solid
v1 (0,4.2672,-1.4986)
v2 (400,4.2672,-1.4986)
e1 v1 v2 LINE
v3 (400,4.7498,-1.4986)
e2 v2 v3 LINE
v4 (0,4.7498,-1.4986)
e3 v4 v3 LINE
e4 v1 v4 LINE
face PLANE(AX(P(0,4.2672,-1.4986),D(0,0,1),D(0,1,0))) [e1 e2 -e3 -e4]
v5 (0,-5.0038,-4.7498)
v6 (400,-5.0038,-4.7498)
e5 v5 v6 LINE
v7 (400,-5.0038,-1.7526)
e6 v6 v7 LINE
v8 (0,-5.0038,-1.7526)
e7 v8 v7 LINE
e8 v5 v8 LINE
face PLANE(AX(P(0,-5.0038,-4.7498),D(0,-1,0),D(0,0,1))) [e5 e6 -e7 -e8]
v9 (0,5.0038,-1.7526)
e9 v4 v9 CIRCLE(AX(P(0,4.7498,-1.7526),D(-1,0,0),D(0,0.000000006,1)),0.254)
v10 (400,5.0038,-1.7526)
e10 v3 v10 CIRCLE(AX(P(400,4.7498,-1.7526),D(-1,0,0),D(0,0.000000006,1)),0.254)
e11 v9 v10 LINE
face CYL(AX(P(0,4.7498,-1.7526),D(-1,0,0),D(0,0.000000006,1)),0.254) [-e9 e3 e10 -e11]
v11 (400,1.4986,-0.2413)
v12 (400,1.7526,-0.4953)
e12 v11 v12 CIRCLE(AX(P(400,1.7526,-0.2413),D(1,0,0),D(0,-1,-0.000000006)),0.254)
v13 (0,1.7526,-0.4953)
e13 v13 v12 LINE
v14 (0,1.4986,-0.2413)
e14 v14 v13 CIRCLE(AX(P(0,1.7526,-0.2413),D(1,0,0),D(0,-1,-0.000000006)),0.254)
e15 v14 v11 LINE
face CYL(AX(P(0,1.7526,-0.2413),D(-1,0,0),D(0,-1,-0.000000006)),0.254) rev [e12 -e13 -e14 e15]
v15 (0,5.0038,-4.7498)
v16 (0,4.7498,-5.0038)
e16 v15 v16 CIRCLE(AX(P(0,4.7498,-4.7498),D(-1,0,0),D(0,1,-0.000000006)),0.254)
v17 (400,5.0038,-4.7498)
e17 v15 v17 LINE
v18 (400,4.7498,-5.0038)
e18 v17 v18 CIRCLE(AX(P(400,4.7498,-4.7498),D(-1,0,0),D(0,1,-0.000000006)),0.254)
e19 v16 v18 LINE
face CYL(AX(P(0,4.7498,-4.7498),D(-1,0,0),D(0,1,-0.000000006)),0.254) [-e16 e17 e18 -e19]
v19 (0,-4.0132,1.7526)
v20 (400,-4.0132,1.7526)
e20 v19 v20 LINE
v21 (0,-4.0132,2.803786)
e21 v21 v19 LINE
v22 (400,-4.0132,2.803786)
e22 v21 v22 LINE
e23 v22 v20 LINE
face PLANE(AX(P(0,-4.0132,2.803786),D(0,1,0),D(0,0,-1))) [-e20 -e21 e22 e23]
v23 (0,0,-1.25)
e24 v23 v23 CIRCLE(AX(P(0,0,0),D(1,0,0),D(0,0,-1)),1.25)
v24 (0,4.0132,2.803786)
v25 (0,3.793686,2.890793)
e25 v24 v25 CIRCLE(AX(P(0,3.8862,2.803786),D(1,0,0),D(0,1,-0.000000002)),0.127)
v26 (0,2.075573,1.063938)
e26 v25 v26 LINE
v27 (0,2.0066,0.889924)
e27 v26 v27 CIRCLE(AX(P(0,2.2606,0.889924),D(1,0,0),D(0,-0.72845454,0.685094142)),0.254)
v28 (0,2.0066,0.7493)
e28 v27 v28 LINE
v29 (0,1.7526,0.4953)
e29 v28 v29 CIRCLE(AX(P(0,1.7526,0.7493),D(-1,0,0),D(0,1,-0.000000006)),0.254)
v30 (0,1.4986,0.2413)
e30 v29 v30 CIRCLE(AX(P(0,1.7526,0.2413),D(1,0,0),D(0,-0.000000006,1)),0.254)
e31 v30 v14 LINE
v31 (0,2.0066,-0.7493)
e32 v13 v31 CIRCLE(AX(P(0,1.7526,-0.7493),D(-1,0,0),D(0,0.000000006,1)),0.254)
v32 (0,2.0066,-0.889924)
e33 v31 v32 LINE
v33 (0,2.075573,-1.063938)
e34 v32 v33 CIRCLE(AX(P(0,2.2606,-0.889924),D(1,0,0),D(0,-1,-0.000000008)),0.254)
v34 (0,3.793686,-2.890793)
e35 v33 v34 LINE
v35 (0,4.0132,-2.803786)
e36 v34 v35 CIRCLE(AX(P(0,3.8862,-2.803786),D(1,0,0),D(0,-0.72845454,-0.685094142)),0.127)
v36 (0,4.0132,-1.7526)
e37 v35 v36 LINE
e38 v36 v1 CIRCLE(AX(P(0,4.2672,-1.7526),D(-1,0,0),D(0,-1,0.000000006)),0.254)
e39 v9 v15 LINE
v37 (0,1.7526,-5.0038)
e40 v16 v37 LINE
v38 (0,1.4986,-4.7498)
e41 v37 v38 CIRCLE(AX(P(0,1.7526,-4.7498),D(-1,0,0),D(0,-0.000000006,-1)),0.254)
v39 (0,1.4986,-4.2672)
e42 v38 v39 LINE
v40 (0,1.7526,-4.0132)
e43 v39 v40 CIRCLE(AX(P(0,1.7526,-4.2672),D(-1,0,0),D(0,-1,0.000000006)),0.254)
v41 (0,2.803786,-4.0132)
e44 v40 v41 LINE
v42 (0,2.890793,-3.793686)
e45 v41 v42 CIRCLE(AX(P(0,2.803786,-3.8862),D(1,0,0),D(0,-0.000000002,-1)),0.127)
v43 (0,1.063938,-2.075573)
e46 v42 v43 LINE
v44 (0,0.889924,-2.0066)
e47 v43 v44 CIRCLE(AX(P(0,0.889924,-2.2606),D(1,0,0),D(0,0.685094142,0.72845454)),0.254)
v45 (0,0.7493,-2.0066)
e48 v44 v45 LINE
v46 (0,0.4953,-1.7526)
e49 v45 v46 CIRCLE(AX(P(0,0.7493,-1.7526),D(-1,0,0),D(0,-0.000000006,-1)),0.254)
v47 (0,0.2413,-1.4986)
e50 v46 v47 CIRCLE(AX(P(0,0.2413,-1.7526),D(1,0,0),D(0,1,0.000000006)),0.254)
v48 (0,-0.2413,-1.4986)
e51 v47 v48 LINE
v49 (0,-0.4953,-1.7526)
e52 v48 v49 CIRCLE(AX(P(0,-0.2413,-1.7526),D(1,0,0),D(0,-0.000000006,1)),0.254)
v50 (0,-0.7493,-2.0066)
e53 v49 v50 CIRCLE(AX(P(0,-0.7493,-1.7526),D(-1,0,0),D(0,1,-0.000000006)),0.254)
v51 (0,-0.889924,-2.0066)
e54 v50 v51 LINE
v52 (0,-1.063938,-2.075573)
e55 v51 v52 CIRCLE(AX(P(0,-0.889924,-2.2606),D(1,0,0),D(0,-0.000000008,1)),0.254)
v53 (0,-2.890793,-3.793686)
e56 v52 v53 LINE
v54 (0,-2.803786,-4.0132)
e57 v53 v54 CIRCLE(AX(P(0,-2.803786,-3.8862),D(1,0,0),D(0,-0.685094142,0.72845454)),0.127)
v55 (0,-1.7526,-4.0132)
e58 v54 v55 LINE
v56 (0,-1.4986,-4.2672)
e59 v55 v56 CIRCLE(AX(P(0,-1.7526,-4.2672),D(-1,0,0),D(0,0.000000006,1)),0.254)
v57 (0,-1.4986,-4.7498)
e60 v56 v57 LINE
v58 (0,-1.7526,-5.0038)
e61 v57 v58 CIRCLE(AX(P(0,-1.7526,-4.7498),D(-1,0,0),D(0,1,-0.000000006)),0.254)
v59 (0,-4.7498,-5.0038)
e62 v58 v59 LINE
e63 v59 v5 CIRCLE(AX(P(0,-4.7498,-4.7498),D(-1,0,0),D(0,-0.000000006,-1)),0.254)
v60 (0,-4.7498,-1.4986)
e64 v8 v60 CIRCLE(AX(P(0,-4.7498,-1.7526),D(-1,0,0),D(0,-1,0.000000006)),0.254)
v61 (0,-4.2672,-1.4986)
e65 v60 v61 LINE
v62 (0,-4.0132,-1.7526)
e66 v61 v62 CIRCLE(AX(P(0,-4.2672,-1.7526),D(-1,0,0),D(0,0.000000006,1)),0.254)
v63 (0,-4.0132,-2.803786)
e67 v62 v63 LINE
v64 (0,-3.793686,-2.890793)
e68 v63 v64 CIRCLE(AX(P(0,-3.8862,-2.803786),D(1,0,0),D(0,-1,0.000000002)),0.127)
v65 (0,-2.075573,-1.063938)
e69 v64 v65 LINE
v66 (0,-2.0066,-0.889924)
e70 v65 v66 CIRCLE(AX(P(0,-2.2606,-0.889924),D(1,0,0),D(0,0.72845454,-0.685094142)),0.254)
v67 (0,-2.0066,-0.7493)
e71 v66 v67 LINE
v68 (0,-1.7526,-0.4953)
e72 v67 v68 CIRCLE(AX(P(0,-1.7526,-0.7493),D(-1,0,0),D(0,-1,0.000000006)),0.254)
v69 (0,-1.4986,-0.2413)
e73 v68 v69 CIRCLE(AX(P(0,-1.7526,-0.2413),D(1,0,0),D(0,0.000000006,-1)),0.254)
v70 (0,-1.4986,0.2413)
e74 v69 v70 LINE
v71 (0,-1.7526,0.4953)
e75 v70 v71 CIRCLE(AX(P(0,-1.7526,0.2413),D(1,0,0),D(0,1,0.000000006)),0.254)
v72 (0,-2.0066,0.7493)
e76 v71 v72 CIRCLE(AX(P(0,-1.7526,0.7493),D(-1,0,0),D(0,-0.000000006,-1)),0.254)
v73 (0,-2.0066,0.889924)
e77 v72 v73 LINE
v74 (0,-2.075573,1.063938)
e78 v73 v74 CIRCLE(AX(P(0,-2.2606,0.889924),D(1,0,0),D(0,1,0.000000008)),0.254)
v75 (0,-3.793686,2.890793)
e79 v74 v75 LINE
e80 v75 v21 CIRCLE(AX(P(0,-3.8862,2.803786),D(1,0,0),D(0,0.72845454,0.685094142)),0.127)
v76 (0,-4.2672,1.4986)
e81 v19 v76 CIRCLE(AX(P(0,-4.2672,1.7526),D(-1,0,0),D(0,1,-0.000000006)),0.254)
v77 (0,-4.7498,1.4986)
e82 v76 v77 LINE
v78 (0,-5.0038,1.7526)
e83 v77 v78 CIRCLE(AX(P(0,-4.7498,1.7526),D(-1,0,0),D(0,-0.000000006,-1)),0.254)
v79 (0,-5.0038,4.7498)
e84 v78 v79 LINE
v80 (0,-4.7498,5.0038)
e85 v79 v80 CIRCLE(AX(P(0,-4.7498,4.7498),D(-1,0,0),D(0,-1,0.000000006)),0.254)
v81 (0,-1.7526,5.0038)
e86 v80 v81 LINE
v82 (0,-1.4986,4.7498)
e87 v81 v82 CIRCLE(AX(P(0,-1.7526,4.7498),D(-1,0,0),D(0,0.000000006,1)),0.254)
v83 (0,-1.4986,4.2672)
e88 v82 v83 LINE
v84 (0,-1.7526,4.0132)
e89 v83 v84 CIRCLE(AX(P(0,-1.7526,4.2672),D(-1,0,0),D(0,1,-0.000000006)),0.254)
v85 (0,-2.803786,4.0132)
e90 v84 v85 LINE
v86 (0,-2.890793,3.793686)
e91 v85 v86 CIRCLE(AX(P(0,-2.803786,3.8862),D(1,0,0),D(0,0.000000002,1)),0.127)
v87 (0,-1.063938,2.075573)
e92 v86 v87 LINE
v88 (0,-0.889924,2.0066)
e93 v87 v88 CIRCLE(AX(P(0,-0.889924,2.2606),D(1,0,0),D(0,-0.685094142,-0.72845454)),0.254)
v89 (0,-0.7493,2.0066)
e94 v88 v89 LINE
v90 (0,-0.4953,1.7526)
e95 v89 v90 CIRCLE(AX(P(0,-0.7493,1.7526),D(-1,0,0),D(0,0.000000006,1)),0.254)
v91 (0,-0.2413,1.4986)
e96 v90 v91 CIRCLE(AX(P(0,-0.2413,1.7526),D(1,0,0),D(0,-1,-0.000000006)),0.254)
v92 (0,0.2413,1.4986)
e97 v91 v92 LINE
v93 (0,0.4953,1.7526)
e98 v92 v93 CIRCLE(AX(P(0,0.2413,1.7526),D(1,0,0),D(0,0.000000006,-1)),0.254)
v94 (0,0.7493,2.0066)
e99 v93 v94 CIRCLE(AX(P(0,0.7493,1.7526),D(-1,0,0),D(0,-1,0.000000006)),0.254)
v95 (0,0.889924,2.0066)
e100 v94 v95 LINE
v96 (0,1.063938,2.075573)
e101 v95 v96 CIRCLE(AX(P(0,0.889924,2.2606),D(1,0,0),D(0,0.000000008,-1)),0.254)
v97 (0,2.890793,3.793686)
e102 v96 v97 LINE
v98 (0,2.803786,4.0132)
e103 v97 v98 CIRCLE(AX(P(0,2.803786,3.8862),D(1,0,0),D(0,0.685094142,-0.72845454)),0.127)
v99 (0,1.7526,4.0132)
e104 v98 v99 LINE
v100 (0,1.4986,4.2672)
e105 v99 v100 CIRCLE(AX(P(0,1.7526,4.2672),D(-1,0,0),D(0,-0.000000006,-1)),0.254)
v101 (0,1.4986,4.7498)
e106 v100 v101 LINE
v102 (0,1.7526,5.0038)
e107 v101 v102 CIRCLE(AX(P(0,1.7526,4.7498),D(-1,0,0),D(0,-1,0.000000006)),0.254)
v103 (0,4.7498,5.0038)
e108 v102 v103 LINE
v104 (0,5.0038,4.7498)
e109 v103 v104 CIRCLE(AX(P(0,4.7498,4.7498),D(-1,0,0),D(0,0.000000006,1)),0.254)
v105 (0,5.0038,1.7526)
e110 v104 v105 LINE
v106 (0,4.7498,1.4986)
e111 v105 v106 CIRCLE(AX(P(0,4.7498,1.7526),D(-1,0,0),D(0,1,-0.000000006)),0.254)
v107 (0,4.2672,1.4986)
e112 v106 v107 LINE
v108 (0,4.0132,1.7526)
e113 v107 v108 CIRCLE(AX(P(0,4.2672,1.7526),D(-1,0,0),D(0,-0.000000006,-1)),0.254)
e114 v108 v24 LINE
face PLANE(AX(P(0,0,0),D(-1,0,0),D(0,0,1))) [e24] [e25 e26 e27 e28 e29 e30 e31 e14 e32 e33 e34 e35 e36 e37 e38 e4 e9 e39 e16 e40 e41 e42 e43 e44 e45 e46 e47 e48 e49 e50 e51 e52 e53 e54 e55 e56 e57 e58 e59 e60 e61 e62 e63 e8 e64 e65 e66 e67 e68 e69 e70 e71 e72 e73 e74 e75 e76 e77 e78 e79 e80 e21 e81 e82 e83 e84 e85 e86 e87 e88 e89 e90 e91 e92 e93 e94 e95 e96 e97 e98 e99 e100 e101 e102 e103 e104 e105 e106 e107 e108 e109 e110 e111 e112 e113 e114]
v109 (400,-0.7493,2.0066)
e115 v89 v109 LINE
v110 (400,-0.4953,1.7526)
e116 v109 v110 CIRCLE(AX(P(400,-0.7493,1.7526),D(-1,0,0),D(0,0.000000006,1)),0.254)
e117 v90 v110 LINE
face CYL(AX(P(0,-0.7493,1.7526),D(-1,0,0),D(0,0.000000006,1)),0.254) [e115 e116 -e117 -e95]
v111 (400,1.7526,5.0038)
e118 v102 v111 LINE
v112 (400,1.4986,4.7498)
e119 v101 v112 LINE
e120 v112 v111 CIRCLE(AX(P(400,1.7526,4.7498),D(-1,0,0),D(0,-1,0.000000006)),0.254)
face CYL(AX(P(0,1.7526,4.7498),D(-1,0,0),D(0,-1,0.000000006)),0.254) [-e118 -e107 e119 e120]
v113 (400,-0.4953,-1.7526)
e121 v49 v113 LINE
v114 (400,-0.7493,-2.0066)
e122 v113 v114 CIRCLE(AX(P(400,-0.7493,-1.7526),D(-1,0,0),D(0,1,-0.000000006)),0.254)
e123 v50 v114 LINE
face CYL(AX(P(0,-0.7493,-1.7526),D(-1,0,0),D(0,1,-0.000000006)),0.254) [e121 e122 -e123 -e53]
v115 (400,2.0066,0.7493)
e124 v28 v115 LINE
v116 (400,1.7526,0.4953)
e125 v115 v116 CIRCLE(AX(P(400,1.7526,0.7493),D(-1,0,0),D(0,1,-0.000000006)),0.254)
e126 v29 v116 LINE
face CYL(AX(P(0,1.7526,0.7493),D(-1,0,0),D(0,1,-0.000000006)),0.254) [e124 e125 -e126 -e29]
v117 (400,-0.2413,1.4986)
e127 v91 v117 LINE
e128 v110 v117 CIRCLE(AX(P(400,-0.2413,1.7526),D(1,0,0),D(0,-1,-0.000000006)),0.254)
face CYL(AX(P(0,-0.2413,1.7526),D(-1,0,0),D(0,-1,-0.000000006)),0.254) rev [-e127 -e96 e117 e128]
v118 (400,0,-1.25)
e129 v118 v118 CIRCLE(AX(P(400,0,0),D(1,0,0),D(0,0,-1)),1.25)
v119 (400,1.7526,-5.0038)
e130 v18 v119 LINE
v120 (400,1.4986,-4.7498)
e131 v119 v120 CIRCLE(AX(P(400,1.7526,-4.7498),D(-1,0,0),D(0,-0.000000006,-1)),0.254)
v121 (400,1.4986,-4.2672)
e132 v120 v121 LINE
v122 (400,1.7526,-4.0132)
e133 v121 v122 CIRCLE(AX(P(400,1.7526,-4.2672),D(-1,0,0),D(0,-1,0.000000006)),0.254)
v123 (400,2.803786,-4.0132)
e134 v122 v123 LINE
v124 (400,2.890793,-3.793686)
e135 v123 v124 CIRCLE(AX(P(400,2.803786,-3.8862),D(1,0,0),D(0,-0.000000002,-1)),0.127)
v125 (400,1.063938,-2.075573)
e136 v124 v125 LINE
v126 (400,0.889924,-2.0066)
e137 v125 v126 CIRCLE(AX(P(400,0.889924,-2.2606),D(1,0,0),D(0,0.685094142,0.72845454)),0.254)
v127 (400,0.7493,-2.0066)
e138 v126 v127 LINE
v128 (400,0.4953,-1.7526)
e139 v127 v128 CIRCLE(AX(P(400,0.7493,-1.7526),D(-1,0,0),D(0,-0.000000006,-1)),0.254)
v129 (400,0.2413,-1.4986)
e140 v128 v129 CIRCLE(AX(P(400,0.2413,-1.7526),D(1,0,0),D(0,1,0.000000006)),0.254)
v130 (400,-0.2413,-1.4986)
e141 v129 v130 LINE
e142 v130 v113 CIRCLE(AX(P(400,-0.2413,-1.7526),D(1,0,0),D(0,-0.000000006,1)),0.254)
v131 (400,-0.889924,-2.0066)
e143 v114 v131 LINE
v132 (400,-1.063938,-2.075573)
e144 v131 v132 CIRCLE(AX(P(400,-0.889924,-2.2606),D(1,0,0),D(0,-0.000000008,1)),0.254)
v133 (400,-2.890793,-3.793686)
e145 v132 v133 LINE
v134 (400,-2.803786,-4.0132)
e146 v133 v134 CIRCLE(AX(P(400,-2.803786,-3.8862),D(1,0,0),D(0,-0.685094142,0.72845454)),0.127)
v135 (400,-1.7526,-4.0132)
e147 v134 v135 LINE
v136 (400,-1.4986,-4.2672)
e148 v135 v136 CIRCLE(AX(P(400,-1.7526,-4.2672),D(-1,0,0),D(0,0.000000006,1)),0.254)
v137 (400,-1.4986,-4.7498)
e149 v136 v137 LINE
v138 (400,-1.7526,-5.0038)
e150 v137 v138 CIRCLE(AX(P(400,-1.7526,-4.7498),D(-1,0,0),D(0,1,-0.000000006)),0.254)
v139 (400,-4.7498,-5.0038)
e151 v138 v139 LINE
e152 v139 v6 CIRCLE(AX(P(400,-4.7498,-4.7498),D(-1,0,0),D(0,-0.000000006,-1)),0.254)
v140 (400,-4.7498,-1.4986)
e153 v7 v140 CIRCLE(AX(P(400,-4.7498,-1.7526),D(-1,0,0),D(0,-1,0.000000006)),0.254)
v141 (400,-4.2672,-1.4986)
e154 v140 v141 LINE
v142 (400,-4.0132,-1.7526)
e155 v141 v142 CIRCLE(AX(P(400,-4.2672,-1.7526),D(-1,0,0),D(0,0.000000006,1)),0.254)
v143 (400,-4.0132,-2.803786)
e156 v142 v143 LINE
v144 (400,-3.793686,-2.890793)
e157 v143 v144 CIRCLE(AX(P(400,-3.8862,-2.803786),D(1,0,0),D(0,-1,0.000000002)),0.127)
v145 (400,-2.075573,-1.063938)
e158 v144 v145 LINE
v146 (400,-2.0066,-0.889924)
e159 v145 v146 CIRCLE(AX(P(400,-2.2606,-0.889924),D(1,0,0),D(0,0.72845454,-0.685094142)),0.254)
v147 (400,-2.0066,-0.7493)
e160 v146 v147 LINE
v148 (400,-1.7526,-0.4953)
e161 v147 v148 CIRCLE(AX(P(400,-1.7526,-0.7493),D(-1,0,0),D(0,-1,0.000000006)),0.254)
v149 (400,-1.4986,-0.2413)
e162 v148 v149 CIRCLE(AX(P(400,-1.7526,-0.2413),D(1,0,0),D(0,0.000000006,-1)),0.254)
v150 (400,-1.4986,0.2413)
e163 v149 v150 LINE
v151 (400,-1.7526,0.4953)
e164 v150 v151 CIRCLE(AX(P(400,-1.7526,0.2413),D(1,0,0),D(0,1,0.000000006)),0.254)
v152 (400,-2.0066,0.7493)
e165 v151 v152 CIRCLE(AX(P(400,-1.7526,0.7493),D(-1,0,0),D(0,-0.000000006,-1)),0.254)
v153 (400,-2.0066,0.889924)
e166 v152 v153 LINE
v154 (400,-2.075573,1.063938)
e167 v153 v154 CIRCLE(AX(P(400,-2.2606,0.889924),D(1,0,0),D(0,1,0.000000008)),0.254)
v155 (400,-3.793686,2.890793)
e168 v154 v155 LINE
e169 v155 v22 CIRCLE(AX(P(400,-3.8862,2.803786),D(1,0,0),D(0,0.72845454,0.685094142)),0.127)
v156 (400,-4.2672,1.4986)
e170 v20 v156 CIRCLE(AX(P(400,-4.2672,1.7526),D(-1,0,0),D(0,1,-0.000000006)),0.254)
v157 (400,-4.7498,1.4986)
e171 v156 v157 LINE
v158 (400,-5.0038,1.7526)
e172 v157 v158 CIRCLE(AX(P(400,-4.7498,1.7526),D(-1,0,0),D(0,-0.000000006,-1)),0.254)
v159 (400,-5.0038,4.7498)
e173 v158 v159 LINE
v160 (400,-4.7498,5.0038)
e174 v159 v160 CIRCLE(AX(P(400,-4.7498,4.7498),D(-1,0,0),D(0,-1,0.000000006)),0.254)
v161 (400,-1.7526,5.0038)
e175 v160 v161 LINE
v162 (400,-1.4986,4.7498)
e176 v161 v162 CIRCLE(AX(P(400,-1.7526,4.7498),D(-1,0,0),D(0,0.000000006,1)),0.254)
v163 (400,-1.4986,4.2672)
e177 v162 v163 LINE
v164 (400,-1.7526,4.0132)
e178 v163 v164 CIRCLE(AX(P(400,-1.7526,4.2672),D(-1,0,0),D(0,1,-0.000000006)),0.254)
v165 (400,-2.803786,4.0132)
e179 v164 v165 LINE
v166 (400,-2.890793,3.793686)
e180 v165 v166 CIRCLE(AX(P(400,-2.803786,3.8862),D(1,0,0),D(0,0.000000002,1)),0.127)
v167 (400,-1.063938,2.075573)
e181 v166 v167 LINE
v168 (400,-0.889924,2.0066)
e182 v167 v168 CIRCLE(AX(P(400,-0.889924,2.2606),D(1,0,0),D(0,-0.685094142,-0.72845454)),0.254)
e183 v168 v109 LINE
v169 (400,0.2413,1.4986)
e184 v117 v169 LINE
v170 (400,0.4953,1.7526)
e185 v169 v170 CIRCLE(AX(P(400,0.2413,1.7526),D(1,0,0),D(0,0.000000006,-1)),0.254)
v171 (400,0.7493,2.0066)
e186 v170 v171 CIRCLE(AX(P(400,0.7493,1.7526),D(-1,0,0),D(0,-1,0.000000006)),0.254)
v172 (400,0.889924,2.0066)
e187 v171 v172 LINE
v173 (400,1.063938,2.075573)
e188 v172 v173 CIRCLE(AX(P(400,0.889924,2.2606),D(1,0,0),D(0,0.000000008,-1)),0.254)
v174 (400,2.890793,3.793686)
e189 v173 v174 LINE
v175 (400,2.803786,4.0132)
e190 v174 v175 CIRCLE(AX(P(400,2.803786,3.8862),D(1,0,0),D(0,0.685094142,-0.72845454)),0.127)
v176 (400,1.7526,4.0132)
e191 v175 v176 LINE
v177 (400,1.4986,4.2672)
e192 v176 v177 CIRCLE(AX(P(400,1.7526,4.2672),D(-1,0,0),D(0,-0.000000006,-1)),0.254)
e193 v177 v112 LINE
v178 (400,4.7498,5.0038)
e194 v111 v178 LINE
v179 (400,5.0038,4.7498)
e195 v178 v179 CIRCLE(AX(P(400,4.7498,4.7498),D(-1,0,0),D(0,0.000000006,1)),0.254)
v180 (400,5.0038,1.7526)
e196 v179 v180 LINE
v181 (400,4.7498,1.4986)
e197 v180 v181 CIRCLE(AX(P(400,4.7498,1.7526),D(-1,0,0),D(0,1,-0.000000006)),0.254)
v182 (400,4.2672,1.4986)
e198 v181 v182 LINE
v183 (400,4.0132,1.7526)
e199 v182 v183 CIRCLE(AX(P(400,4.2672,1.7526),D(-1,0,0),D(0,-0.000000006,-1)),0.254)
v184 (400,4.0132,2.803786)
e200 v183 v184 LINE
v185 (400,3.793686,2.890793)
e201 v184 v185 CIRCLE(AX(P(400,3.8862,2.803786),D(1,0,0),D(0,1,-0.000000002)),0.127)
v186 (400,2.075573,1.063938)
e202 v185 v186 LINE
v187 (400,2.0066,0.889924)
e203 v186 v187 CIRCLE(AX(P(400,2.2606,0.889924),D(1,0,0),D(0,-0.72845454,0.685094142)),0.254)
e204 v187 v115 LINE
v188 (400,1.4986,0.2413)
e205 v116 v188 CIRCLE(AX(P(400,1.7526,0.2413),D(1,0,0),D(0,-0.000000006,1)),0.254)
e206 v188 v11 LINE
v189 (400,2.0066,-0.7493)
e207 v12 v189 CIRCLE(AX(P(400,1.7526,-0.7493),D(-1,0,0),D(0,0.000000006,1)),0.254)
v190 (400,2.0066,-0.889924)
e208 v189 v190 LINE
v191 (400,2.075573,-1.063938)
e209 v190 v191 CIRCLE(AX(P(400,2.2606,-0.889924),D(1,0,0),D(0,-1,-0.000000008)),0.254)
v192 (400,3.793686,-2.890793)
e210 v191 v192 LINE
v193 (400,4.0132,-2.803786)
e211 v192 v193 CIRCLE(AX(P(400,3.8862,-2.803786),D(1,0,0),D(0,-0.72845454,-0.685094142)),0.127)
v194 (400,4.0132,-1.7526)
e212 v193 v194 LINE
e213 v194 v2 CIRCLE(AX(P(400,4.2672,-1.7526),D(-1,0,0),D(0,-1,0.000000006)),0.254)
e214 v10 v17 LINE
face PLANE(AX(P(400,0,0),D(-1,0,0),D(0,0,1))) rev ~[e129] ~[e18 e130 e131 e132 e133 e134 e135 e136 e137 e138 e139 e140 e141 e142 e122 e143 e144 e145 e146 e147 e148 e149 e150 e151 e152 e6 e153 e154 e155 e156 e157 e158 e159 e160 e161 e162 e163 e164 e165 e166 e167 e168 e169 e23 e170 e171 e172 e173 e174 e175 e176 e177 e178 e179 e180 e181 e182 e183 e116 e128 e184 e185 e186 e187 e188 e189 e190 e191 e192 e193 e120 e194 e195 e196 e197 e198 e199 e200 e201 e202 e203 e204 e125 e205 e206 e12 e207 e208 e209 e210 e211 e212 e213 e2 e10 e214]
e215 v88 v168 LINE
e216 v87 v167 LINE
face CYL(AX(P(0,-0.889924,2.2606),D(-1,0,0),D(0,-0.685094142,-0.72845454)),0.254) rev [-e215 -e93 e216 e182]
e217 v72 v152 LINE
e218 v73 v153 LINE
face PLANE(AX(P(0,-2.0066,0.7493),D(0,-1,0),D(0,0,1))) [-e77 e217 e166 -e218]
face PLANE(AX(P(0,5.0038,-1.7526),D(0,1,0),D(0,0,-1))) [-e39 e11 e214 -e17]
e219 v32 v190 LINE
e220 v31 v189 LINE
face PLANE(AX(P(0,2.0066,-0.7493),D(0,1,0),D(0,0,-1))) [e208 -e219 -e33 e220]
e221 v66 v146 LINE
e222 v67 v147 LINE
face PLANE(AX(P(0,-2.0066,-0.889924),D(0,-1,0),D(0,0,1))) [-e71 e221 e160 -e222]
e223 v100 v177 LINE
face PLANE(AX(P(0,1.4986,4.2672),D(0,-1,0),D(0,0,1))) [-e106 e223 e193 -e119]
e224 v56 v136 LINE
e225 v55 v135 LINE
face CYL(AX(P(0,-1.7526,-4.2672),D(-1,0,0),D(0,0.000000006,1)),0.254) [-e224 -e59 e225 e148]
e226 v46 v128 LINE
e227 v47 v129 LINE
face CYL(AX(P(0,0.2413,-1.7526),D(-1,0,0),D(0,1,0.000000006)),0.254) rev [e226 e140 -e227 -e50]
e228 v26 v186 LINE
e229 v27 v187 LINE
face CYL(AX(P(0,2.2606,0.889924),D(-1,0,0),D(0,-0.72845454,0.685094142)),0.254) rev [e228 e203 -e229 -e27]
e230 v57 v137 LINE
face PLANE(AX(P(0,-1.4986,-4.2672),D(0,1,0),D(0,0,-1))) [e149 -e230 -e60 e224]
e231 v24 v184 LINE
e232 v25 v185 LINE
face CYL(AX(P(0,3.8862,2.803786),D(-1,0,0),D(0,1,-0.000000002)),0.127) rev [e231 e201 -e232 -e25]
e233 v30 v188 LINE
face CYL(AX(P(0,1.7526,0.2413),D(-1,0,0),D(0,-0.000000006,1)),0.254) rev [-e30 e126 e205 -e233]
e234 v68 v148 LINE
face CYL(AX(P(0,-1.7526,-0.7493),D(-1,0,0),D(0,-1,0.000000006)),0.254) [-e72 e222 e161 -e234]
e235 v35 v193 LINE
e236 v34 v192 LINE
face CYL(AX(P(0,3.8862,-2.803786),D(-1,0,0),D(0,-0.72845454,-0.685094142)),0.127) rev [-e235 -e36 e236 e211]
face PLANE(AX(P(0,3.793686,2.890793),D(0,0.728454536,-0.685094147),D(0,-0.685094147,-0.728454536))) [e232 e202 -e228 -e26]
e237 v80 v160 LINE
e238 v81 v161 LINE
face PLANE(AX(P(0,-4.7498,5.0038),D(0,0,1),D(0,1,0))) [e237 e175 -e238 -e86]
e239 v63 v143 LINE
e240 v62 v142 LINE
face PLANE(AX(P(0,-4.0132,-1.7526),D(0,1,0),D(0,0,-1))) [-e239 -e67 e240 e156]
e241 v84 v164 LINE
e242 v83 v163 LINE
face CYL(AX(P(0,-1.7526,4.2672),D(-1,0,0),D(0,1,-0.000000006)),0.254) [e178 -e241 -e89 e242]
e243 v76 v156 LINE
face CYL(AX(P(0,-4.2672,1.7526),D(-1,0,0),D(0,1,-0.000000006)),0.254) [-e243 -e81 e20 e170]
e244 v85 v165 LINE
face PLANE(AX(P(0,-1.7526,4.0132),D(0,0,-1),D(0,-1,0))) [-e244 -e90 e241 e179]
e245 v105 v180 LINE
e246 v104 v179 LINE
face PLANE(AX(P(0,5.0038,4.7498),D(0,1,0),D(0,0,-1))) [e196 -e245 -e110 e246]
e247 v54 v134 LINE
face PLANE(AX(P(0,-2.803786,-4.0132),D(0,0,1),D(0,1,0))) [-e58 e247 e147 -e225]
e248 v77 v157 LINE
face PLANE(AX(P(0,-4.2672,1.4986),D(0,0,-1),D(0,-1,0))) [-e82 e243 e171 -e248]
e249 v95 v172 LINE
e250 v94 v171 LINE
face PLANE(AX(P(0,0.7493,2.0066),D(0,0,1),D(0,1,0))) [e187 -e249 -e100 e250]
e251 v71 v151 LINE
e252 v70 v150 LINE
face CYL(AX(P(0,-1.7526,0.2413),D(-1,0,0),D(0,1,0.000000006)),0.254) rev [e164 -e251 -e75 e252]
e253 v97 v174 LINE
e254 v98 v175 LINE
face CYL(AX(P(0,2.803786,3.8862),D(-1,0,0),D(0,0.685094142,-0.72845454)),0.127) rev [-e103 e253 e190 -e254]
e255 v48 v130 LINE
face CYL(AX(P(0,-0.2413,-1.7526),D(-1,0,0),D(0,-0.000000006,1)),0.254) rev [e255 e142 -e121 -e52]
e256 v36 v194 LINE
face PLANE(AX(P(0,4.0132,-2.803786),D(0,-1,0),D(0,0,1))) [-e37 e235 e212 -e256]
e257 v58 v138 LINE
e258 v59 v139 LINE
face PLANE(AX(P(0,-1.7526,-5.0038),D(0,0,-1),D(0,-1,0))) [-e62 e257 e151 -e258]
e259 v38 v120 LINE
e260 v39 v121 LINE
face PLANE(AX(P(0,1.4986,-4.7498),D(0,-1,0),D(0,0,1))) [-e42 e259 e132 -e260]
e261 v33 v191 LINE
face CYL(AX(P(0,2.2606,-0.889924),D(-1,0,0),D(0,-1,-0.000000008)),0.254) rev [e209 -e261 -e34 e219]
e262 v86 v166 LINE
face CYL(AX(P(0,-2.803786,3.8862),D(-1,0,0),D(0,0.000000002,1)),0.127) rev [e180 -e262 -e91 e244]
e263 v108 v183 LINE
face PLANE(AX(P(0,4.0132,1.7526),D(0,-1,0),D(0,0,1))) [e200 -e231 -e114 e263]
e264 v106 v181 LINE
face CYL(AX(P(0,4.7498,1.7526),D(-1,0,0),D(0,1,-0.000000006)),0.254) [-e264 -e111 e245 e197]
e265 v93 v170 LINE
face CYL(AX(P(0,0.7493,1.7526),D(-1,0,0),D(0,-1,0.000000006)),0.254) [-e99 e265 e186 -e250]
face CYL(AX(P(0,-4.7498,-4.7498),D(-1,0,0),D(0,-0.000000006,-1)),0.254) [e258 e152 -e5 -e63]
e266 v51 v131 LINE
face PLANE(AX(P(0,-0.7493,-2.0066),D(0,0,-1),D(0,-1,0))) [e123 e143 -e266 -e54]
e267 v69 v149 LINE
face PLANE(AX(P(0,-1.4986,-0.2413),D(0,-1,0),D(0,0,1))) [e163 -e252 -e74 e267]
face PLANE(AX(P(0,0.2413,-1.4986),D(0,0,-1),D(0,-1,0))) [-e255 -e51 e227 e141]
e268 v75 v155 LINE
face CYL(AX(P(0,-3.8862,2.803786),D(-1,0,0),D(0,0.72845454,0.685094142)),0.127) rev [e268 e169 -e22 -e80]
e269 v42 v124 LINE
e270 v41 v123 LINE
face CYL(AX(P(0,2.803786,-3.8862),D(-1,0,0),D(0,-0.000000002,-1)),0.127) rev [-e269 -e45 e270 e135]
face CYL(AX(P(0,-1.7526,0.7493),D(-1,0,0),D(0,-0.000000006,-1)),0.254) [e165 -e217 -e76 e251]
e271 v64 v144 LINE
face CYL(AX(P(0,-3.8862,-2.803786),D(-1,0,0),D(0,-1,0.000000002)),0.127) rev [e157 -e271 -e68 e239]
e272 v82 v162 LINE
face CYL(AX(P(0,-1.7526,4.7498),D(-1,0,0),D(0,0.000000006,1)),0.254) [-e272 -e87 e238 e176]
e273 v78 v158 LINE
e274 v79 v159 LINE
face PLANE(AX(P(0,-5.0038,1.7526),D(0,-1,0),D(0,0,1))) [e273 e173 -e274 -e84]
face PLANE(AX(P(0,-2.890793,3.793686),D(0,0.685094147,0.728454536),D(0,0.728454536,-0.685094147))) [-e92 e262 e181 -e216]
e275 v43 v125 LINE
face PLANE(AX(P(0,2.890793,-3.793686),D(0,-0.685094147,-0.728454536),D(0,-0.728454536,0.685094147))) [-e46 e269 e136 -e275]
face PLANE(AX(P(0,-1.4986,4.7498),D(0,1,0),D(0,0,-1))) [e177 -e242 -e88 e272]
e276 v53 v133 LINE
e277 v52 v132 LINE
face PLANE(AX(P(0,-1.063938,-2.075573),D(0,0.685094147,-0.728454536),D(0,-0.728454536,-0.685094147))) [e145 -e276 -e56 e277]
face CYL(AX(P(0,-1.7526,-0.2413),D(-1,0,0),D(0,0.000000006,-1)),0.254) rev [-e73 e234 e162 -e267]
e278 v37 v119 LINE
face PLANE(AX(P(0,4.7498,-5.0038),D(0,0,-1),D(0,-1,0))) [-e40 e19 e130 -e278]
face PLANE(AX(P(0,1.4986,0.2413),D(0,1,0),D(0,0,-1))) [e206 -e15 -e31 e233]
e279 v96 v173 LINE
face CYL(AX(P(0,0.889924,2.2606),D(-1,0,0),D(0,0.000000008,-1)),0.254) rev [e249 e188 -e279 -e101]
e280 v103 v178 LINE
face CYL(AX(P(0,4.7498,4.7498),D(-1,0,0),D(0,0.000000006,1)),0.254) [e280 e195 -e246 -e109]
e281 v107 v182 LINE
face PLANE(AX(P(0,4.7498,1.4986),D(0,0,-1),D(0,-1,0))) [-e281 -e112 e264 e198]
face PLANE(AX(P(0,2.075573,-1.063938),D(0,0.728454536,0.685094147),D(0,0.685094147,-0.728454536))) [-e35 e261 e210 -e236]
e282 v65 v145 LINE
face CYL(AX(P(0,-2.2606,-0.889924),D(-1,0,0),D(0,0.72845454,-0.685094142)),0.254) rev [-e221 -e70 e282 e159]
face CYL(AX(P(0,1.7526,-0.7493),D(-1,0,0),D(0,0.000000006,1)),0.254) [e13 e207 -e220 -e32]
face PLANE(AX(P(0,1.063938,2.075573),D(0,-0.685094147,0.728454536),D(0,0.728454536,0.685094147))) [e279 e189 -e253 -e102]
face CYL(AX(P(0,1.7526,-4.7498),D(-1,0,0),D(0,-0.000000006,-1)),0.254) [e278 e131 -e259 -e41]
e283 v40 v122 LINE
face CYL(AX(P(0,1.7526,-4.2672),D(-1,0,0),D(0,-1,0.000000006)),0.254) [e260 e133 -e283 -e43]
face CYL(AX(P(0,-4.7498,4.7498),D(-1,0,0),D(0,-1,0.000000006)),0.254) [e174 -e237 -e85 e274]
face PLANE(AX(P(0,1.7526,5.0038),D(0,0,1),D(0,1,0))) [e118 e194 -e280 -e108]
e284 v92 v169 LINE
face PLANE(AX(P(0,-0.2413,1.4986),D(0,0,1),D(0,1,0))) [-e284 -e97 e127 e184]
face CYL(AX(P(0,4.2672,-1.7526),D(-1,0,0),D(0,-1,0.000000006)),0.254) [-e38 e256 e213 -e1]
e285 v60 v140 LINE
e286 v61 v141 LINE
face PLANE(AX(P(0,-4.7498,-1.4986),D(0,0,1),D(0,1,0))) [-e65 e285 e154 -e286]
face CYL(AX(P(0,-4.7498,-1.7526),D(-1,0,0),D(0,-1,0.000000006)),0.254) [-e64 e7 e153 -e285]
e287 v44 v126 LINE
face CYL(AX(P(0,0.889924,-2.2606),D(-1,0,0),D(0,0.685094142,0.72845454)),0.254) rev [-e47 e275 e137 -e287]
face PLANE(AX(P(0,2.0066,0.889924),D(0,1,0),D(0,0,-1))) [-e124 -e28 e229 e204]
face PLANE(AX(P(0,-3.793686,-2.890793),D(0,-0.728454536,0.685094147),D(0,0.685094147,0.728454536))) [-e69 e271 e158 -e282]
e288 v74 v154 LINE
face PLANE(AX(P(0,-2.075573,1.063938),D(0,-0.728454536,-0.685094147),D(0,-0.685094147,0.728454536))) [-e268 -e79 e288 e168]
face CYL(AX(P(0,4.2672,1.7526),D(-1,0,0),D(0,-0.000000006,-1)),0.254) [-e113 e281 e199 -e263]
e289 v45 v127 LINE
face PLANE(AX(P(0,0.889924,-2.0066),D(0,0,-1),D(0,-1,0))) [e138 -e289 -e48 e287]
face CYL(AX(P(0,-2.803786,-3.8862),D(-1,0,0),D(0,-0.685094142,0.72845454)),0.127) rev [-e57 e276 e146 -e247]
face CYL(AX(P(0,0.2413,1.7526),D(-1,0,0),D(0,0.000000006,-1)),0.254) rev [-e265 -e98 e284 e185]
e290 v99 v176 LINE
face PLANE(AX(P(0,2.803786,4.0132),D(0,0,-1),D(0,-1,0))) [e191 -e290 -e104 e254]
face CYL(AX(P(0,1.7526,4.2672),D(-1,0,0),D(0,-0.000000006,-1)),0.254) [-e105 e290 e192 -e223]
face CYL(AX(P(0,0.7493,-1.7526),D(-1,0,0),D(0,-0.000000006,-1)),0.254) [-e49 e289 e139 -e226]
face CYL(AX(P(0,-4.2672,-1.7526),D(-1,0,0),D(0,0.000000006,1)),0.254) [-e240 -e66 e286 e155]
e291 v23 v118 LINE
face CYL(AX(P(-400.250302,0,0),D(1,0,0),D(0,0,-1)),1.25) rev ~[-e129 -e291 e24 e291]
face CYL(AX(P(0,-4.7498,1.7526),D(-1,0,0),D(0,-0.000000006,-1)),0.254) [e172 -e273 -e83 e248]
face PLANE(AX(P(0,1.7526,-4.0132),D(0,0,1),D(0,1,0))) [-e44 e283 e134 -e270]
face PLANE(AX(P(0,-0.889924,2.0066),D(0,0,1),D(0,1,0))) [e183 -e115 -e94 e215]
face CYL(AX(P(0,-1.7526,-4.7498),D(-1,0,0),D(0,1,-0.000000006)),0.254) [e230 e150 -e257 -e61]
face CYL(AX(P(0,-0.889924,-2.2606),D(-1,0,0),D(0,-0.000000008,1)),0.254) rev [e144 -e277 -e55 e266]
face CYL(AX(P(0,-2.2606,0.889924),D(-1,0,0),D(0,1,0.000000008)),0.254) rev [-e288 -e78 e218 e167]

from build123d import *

# Parameters (mm, degrees)
ESTRUSIONE_ESTRUSIONE1_DEPTH = 400
FORO_FILETTATO_M3X0_5_1_D    = 2.5


with BuildPart() as part:
    # Sketch1 → Estrusione-Estrusione1 (new body)
    with BuildSketch(Plane(origin=(0, 0, 0), x_dir=(0, 0, -1), z_dir=(1, 0, 0))):
        with BuildLine():
            Line((-0.2413, 1.4986), (0.2413, 1.4986))
            ThreePointArc((0.2413, 1.4986), (0.420905122, 1.572994878), (0.4953, 1.7526))
            ThreePointArc((0.4953, 1.7526), (0.569694878, 1.932205122), (0.7493, 2.0066))
            Line((0.7493, 2.0066), (0.889923986, 2.0066))
            ThreePointArc((0.889923986, 2.0066), (0.983516259, 2.024471886), (1.063937899, 2.075572548))
            Line((1.063937899, 2.075572548), (2.890793, 3.793686274))
            ThreePointArc((2.890793, 3.793686274), (2.921850101, 3.932996137), (2.803786044, 4.0132))
            Line((2.803786044, 4.0132), (1.7526, 4.0132))
            ThreePointArc((1.7526, 4.0132), (1.572994878, 4.087594878), (1.4986, 4.2672))
            Line((1.4986, 4.2672), (1.4986, 4.7498))
            ThreePointArc((1.4986, 4.7498), (1.572994878, 4.929405122), (1.7526, 5.0038))
            Line((1.7526, 5.0038), (4.7498, 5.0038))
            ThreePointArc((4.7498, 5.0038), (4.929405122, 4.929405122), (5.0038, 4.7498))
            Line((5.0038, 4.7498), (5.0038, 1.7526))
            ThreePointArc((5.0038, 1.7526), (4.929405122, 1.572994878), (4.7498, 1.4986))
            Line((4.7498, 1.4986), (4.2672, 1.4986))
            ThreePointArc((4.2672, 1.4986), (4.087594878, 1.572994878), (4.0132, 1.7526))
            Line((4.0132, 1.7526), (4.0132, 2.803786044))
            ThreePointArc((4.0132, 2.803786044), (3.932996137, 2.921850101), (3.793686274, 2.890793))
            Line((3.793686274, 2.890793), (2.075572548, 1.063937899))
            ThreePointArc((2.075572548, 1.063937899), (2.024471886, 0.983516259), (2.0066, 0.889923986))
            Line((2.0066, 0.889923986), (2.0066, 0.7493))
            ThreePointArc((2.0066, 0.7493), (1.932205122, 0.569694878), (1.7526, 0.4953))
            ThreePointArc((1.7526, 0.4953), (1.572994878, 0.420905122), (1.4986, 0.2413))
            Line((1.4986, 0.2413), (1.4986, -0.2413))
            ThreePointArc((1.4986, -0.2413), (1.572994878, -0.420905122), (1.7526, -0.4953))
            ThreePointArc((1.7526, -0.4953), (1.932205122, -0.569694878), (2.0066, -0.7493))
            Line((2.0066, -0.7493), (2.0066, -0.889923986))
            ThreePointArc((2.0066, -0.889923986), (2.024471886, -0.983516259), (2.075572548, -1.063937899))
            Line((2.075572548, -1.063937899), (3.793686274, -2.890793))
            ThreePointArc((3.793686274, -2.890793), (3.932996137, -2.921850101), (4.0132, -2.803786044))
            Line((4.0132, -2.803786044), (4.0132, -1.7526))
            ThreePointArc((4.0132, -1.7526), (4.087594878, -1.572994878), (4.2672, -1.4986))
            Line((4.2672, -1.4986), (4.7498, -1.4986))
            ThreePointArc((4.7498, -1.4986), (4.929405122, -1.572994878), (5.0038, -1.7526))
            Line((5.0038, -1.7526), (5.0038, -4.7498))
            ThreePointArc((5.0038, -4.7498), (4.929405122, -4.929405122), (4.7498, -5.0038))
            Line((4.7498, -5.0038), (1.7526, -5.0038))
            ThreePointArc((1.7526, -5.0038), (1.572994878, -4.929405122), (1.4986, -4.7498))
            Line((1.4986, -4.7498), (1.4986, -4.2672))
            ThreePointArc((1.4986, -4.2672), (1.572994878, -4.087594878), (1.7526, -4.0132))
            Line((1.7526, -4.0132), (2.803786044, -4.0132))
            ThreePointArc((2.803786044, -4.0132), (2.921850101, -3.932996137), (2.890793, -3.793686274))
            Line((2.890793, -3.793686274), (1.063937899, -2.075572548))
            ThreePointArc((1.063937899, -2.075572548), (0.983516259, -2.024471886), (0.889923986, -2.0066))
            Line((0.889923986, -2.0066), (0.7493, -2.0066))
            ThreePointArc((0.7493, -2.0066), (0.569694878, -1.932205122), (0.4953, -1.7526))
            ThreePointArc((0.4953, -1.7526), (0.420905122, -1.572994878), (0.2413, -1.4986))
            Line((0.2413, -1.4986), (-0.2413, -1.4986))
            ThreePointArc((-0.2413, -1.4986), (-0.420905122, -1.572994878), (-0.4953, -1.7526))
            ThreePointArc((-0.4953, -1.7526), (-0.569694878, -1.932205122), (-0.7493, -2.0066))
            Line((-0.7493, -2.0066), (-0.889923986, -2.0066))
            ThreePointArc((-0.889923986, -2.0066), (-0.983516259, -2.024471886), (-1.063937899, -2.075572548))
            Line((-1.063937899, -2.075572548), (-2.890793, -3.793686274))
            ThreePointArc((-2.890793, -3.793686274), (-2.921850101, -3.932996137), (-2.803786044, -4.0132))
            Line((-2.803786044, -4.0132), (-1.7526, -4.0132))
            ThreePointArc((-1.7526, -4.0132), (-1.572994878, -4.087594878), (-1.4986, -4.2672))
            Line((-1.4986, -4.2672), (-1.4986, -4.7498))
            ThreePointArc((-1.4986, -4.7498), (-1.572994878, -4.929405122), (-1.7526, -5.0038))
            Line((-1.7526, -5.0038), (-4.7498, -5.0038))
            ThreePointArc((-4.7498, -5.0038), (-4.929405122, -4.929405122), (-5.0038, -4.7498))
            Line((-5.0038, -4.7498), (-5.0038, -1.7526))
            ThreePointArc((-5.0038, -1.7526), (-4.929405122, -1.572994878), (-4.7498, -1.4986))
            Line((-4.7498, -1.4986), (-4.2672, -1.4986))
            ThreePointArc((-4.2672, -1.4986), (-4.087594878, -1.572994878), (-4.0132, -1.7526))
            Line((-4.0132, -1.7526), (-4.0132, -2.803786044))
            ThreePointArc((-4.0132, -2.803786044), (-3.932996137, -2.921850101), (-3.793686274, -2.890793))
            Line((-3.793686274, -2.890793), (-2.075572548, -1.063937899))
            ThreePointArc((-2.075572548, -1.063937899), (-2.024471886, -0.983516259), (-2.0066, -0.889923986))
            Line((-2.0066, -0.889923986), (-2.0066, -0.7493))
            ThreePointArc((-2.0066, -0.7493), (-1.932205122, -0.569694878), (-1.7526, -0.4953))
            ThreePointArc((-1.7526, -0.4953), (-1.572994878, -0.420905122), (-1.4986, -0.2413))
            Line((-1.4986, -0.2413), (-1.4986, 0.2413))
            ThreePointArc((-1.4986, 0.2413), (-1.572994878, 0.420905122), (-1.7526, 0.4953))
            ThreePointArc((-1.7526, 0.4953), (-1.932205122, 0.569694878), (-2.0066, 0.7493))
            Line((-2.0066, 0.7493), (-2.0066, 0.889923986))
            ThreePointArc((-2.0066, 0.889923986), (-2.024471886, 0.983516259), (-2.075572548, 1.063937899))
            Line((-2.075572548, 1.063937899), (-3.793686274, 2.890793))
            ThreePointArc((-3.793686274, 2.890793), (-3.932996137, 2.921850101), (-4.0132, 2.803786044))
            Line((-4.0132, 2.803786044), (-4.0132, 1.7526))
            ThreePointArc((-4.0132, 1.7526), (-4.087594878, 1.572994878), (-4.2672, 1.4986))
            Line((-4.2672, 1.4986), (-4.7498, 1.4986))
            ThreePointArc((-4.7498, 1.4986), (-4.929405122, 1.572994878), (-5.0038, 1.7526))
            Line((-5.0038, 1.7526), (-5.0038, 4.7498))
            ThreePointArc((-5.0038, 4.7498), (-4.929405122, 4.929405122), (-4.7498, 5.0038))
            Line((-4.7498, 5.0038), (-1.7526, 5.0038))
            ThreePointArc((-1.7526, 5.0038), (-1.572994878, 4.929405122), (-1.4986, 4.7498))
            Line((-1.4986, 4.7498), (-1.4986, 4.2672))
            ThreePointArc((-1.4986, 4.2672), (-1.572994878, 4.087594878), (-1.7526, 4.0132))
            Line((-1.7526, 4.0132), (-2.803786044, 4.0132))
            ThreePointArc((-2.803786044, 4.0132), (-2.921850101, 3.932996137), (-2.890793, 3.793686274))
            Line((-2.890793, 3.793686274), (-1.063937899, 2.075572548))
            ThreePointArc((-1.063937899, 2.075572548), (-0.983516259, 2.024471886), (-0.889923986, 2.0066))
            Line((-0.889923986, 2.0066), (-0.7493, 2.0066))
            ThreePointArc((-0.7493, 2.0066), (-0.569694878, 1.932205122), (-0.4953, 1.7526))
            ThreePointArc((-0.4953, 1.7526), (-0.420905122, 1.572994878), (-0.2413, 1.4986))
        make_face()
    extrude(amount=ESTRUSIONE_ESTRUSIONE1_DEPTH)

    # Foro filettato M3x0.5-1 (through all)
    with Locations(Plane.ZY):
        with Locations((0, 0)):
            Hole(FORO_FILETTATO_M3X0_5_1_D / 2)


solid = part.part
